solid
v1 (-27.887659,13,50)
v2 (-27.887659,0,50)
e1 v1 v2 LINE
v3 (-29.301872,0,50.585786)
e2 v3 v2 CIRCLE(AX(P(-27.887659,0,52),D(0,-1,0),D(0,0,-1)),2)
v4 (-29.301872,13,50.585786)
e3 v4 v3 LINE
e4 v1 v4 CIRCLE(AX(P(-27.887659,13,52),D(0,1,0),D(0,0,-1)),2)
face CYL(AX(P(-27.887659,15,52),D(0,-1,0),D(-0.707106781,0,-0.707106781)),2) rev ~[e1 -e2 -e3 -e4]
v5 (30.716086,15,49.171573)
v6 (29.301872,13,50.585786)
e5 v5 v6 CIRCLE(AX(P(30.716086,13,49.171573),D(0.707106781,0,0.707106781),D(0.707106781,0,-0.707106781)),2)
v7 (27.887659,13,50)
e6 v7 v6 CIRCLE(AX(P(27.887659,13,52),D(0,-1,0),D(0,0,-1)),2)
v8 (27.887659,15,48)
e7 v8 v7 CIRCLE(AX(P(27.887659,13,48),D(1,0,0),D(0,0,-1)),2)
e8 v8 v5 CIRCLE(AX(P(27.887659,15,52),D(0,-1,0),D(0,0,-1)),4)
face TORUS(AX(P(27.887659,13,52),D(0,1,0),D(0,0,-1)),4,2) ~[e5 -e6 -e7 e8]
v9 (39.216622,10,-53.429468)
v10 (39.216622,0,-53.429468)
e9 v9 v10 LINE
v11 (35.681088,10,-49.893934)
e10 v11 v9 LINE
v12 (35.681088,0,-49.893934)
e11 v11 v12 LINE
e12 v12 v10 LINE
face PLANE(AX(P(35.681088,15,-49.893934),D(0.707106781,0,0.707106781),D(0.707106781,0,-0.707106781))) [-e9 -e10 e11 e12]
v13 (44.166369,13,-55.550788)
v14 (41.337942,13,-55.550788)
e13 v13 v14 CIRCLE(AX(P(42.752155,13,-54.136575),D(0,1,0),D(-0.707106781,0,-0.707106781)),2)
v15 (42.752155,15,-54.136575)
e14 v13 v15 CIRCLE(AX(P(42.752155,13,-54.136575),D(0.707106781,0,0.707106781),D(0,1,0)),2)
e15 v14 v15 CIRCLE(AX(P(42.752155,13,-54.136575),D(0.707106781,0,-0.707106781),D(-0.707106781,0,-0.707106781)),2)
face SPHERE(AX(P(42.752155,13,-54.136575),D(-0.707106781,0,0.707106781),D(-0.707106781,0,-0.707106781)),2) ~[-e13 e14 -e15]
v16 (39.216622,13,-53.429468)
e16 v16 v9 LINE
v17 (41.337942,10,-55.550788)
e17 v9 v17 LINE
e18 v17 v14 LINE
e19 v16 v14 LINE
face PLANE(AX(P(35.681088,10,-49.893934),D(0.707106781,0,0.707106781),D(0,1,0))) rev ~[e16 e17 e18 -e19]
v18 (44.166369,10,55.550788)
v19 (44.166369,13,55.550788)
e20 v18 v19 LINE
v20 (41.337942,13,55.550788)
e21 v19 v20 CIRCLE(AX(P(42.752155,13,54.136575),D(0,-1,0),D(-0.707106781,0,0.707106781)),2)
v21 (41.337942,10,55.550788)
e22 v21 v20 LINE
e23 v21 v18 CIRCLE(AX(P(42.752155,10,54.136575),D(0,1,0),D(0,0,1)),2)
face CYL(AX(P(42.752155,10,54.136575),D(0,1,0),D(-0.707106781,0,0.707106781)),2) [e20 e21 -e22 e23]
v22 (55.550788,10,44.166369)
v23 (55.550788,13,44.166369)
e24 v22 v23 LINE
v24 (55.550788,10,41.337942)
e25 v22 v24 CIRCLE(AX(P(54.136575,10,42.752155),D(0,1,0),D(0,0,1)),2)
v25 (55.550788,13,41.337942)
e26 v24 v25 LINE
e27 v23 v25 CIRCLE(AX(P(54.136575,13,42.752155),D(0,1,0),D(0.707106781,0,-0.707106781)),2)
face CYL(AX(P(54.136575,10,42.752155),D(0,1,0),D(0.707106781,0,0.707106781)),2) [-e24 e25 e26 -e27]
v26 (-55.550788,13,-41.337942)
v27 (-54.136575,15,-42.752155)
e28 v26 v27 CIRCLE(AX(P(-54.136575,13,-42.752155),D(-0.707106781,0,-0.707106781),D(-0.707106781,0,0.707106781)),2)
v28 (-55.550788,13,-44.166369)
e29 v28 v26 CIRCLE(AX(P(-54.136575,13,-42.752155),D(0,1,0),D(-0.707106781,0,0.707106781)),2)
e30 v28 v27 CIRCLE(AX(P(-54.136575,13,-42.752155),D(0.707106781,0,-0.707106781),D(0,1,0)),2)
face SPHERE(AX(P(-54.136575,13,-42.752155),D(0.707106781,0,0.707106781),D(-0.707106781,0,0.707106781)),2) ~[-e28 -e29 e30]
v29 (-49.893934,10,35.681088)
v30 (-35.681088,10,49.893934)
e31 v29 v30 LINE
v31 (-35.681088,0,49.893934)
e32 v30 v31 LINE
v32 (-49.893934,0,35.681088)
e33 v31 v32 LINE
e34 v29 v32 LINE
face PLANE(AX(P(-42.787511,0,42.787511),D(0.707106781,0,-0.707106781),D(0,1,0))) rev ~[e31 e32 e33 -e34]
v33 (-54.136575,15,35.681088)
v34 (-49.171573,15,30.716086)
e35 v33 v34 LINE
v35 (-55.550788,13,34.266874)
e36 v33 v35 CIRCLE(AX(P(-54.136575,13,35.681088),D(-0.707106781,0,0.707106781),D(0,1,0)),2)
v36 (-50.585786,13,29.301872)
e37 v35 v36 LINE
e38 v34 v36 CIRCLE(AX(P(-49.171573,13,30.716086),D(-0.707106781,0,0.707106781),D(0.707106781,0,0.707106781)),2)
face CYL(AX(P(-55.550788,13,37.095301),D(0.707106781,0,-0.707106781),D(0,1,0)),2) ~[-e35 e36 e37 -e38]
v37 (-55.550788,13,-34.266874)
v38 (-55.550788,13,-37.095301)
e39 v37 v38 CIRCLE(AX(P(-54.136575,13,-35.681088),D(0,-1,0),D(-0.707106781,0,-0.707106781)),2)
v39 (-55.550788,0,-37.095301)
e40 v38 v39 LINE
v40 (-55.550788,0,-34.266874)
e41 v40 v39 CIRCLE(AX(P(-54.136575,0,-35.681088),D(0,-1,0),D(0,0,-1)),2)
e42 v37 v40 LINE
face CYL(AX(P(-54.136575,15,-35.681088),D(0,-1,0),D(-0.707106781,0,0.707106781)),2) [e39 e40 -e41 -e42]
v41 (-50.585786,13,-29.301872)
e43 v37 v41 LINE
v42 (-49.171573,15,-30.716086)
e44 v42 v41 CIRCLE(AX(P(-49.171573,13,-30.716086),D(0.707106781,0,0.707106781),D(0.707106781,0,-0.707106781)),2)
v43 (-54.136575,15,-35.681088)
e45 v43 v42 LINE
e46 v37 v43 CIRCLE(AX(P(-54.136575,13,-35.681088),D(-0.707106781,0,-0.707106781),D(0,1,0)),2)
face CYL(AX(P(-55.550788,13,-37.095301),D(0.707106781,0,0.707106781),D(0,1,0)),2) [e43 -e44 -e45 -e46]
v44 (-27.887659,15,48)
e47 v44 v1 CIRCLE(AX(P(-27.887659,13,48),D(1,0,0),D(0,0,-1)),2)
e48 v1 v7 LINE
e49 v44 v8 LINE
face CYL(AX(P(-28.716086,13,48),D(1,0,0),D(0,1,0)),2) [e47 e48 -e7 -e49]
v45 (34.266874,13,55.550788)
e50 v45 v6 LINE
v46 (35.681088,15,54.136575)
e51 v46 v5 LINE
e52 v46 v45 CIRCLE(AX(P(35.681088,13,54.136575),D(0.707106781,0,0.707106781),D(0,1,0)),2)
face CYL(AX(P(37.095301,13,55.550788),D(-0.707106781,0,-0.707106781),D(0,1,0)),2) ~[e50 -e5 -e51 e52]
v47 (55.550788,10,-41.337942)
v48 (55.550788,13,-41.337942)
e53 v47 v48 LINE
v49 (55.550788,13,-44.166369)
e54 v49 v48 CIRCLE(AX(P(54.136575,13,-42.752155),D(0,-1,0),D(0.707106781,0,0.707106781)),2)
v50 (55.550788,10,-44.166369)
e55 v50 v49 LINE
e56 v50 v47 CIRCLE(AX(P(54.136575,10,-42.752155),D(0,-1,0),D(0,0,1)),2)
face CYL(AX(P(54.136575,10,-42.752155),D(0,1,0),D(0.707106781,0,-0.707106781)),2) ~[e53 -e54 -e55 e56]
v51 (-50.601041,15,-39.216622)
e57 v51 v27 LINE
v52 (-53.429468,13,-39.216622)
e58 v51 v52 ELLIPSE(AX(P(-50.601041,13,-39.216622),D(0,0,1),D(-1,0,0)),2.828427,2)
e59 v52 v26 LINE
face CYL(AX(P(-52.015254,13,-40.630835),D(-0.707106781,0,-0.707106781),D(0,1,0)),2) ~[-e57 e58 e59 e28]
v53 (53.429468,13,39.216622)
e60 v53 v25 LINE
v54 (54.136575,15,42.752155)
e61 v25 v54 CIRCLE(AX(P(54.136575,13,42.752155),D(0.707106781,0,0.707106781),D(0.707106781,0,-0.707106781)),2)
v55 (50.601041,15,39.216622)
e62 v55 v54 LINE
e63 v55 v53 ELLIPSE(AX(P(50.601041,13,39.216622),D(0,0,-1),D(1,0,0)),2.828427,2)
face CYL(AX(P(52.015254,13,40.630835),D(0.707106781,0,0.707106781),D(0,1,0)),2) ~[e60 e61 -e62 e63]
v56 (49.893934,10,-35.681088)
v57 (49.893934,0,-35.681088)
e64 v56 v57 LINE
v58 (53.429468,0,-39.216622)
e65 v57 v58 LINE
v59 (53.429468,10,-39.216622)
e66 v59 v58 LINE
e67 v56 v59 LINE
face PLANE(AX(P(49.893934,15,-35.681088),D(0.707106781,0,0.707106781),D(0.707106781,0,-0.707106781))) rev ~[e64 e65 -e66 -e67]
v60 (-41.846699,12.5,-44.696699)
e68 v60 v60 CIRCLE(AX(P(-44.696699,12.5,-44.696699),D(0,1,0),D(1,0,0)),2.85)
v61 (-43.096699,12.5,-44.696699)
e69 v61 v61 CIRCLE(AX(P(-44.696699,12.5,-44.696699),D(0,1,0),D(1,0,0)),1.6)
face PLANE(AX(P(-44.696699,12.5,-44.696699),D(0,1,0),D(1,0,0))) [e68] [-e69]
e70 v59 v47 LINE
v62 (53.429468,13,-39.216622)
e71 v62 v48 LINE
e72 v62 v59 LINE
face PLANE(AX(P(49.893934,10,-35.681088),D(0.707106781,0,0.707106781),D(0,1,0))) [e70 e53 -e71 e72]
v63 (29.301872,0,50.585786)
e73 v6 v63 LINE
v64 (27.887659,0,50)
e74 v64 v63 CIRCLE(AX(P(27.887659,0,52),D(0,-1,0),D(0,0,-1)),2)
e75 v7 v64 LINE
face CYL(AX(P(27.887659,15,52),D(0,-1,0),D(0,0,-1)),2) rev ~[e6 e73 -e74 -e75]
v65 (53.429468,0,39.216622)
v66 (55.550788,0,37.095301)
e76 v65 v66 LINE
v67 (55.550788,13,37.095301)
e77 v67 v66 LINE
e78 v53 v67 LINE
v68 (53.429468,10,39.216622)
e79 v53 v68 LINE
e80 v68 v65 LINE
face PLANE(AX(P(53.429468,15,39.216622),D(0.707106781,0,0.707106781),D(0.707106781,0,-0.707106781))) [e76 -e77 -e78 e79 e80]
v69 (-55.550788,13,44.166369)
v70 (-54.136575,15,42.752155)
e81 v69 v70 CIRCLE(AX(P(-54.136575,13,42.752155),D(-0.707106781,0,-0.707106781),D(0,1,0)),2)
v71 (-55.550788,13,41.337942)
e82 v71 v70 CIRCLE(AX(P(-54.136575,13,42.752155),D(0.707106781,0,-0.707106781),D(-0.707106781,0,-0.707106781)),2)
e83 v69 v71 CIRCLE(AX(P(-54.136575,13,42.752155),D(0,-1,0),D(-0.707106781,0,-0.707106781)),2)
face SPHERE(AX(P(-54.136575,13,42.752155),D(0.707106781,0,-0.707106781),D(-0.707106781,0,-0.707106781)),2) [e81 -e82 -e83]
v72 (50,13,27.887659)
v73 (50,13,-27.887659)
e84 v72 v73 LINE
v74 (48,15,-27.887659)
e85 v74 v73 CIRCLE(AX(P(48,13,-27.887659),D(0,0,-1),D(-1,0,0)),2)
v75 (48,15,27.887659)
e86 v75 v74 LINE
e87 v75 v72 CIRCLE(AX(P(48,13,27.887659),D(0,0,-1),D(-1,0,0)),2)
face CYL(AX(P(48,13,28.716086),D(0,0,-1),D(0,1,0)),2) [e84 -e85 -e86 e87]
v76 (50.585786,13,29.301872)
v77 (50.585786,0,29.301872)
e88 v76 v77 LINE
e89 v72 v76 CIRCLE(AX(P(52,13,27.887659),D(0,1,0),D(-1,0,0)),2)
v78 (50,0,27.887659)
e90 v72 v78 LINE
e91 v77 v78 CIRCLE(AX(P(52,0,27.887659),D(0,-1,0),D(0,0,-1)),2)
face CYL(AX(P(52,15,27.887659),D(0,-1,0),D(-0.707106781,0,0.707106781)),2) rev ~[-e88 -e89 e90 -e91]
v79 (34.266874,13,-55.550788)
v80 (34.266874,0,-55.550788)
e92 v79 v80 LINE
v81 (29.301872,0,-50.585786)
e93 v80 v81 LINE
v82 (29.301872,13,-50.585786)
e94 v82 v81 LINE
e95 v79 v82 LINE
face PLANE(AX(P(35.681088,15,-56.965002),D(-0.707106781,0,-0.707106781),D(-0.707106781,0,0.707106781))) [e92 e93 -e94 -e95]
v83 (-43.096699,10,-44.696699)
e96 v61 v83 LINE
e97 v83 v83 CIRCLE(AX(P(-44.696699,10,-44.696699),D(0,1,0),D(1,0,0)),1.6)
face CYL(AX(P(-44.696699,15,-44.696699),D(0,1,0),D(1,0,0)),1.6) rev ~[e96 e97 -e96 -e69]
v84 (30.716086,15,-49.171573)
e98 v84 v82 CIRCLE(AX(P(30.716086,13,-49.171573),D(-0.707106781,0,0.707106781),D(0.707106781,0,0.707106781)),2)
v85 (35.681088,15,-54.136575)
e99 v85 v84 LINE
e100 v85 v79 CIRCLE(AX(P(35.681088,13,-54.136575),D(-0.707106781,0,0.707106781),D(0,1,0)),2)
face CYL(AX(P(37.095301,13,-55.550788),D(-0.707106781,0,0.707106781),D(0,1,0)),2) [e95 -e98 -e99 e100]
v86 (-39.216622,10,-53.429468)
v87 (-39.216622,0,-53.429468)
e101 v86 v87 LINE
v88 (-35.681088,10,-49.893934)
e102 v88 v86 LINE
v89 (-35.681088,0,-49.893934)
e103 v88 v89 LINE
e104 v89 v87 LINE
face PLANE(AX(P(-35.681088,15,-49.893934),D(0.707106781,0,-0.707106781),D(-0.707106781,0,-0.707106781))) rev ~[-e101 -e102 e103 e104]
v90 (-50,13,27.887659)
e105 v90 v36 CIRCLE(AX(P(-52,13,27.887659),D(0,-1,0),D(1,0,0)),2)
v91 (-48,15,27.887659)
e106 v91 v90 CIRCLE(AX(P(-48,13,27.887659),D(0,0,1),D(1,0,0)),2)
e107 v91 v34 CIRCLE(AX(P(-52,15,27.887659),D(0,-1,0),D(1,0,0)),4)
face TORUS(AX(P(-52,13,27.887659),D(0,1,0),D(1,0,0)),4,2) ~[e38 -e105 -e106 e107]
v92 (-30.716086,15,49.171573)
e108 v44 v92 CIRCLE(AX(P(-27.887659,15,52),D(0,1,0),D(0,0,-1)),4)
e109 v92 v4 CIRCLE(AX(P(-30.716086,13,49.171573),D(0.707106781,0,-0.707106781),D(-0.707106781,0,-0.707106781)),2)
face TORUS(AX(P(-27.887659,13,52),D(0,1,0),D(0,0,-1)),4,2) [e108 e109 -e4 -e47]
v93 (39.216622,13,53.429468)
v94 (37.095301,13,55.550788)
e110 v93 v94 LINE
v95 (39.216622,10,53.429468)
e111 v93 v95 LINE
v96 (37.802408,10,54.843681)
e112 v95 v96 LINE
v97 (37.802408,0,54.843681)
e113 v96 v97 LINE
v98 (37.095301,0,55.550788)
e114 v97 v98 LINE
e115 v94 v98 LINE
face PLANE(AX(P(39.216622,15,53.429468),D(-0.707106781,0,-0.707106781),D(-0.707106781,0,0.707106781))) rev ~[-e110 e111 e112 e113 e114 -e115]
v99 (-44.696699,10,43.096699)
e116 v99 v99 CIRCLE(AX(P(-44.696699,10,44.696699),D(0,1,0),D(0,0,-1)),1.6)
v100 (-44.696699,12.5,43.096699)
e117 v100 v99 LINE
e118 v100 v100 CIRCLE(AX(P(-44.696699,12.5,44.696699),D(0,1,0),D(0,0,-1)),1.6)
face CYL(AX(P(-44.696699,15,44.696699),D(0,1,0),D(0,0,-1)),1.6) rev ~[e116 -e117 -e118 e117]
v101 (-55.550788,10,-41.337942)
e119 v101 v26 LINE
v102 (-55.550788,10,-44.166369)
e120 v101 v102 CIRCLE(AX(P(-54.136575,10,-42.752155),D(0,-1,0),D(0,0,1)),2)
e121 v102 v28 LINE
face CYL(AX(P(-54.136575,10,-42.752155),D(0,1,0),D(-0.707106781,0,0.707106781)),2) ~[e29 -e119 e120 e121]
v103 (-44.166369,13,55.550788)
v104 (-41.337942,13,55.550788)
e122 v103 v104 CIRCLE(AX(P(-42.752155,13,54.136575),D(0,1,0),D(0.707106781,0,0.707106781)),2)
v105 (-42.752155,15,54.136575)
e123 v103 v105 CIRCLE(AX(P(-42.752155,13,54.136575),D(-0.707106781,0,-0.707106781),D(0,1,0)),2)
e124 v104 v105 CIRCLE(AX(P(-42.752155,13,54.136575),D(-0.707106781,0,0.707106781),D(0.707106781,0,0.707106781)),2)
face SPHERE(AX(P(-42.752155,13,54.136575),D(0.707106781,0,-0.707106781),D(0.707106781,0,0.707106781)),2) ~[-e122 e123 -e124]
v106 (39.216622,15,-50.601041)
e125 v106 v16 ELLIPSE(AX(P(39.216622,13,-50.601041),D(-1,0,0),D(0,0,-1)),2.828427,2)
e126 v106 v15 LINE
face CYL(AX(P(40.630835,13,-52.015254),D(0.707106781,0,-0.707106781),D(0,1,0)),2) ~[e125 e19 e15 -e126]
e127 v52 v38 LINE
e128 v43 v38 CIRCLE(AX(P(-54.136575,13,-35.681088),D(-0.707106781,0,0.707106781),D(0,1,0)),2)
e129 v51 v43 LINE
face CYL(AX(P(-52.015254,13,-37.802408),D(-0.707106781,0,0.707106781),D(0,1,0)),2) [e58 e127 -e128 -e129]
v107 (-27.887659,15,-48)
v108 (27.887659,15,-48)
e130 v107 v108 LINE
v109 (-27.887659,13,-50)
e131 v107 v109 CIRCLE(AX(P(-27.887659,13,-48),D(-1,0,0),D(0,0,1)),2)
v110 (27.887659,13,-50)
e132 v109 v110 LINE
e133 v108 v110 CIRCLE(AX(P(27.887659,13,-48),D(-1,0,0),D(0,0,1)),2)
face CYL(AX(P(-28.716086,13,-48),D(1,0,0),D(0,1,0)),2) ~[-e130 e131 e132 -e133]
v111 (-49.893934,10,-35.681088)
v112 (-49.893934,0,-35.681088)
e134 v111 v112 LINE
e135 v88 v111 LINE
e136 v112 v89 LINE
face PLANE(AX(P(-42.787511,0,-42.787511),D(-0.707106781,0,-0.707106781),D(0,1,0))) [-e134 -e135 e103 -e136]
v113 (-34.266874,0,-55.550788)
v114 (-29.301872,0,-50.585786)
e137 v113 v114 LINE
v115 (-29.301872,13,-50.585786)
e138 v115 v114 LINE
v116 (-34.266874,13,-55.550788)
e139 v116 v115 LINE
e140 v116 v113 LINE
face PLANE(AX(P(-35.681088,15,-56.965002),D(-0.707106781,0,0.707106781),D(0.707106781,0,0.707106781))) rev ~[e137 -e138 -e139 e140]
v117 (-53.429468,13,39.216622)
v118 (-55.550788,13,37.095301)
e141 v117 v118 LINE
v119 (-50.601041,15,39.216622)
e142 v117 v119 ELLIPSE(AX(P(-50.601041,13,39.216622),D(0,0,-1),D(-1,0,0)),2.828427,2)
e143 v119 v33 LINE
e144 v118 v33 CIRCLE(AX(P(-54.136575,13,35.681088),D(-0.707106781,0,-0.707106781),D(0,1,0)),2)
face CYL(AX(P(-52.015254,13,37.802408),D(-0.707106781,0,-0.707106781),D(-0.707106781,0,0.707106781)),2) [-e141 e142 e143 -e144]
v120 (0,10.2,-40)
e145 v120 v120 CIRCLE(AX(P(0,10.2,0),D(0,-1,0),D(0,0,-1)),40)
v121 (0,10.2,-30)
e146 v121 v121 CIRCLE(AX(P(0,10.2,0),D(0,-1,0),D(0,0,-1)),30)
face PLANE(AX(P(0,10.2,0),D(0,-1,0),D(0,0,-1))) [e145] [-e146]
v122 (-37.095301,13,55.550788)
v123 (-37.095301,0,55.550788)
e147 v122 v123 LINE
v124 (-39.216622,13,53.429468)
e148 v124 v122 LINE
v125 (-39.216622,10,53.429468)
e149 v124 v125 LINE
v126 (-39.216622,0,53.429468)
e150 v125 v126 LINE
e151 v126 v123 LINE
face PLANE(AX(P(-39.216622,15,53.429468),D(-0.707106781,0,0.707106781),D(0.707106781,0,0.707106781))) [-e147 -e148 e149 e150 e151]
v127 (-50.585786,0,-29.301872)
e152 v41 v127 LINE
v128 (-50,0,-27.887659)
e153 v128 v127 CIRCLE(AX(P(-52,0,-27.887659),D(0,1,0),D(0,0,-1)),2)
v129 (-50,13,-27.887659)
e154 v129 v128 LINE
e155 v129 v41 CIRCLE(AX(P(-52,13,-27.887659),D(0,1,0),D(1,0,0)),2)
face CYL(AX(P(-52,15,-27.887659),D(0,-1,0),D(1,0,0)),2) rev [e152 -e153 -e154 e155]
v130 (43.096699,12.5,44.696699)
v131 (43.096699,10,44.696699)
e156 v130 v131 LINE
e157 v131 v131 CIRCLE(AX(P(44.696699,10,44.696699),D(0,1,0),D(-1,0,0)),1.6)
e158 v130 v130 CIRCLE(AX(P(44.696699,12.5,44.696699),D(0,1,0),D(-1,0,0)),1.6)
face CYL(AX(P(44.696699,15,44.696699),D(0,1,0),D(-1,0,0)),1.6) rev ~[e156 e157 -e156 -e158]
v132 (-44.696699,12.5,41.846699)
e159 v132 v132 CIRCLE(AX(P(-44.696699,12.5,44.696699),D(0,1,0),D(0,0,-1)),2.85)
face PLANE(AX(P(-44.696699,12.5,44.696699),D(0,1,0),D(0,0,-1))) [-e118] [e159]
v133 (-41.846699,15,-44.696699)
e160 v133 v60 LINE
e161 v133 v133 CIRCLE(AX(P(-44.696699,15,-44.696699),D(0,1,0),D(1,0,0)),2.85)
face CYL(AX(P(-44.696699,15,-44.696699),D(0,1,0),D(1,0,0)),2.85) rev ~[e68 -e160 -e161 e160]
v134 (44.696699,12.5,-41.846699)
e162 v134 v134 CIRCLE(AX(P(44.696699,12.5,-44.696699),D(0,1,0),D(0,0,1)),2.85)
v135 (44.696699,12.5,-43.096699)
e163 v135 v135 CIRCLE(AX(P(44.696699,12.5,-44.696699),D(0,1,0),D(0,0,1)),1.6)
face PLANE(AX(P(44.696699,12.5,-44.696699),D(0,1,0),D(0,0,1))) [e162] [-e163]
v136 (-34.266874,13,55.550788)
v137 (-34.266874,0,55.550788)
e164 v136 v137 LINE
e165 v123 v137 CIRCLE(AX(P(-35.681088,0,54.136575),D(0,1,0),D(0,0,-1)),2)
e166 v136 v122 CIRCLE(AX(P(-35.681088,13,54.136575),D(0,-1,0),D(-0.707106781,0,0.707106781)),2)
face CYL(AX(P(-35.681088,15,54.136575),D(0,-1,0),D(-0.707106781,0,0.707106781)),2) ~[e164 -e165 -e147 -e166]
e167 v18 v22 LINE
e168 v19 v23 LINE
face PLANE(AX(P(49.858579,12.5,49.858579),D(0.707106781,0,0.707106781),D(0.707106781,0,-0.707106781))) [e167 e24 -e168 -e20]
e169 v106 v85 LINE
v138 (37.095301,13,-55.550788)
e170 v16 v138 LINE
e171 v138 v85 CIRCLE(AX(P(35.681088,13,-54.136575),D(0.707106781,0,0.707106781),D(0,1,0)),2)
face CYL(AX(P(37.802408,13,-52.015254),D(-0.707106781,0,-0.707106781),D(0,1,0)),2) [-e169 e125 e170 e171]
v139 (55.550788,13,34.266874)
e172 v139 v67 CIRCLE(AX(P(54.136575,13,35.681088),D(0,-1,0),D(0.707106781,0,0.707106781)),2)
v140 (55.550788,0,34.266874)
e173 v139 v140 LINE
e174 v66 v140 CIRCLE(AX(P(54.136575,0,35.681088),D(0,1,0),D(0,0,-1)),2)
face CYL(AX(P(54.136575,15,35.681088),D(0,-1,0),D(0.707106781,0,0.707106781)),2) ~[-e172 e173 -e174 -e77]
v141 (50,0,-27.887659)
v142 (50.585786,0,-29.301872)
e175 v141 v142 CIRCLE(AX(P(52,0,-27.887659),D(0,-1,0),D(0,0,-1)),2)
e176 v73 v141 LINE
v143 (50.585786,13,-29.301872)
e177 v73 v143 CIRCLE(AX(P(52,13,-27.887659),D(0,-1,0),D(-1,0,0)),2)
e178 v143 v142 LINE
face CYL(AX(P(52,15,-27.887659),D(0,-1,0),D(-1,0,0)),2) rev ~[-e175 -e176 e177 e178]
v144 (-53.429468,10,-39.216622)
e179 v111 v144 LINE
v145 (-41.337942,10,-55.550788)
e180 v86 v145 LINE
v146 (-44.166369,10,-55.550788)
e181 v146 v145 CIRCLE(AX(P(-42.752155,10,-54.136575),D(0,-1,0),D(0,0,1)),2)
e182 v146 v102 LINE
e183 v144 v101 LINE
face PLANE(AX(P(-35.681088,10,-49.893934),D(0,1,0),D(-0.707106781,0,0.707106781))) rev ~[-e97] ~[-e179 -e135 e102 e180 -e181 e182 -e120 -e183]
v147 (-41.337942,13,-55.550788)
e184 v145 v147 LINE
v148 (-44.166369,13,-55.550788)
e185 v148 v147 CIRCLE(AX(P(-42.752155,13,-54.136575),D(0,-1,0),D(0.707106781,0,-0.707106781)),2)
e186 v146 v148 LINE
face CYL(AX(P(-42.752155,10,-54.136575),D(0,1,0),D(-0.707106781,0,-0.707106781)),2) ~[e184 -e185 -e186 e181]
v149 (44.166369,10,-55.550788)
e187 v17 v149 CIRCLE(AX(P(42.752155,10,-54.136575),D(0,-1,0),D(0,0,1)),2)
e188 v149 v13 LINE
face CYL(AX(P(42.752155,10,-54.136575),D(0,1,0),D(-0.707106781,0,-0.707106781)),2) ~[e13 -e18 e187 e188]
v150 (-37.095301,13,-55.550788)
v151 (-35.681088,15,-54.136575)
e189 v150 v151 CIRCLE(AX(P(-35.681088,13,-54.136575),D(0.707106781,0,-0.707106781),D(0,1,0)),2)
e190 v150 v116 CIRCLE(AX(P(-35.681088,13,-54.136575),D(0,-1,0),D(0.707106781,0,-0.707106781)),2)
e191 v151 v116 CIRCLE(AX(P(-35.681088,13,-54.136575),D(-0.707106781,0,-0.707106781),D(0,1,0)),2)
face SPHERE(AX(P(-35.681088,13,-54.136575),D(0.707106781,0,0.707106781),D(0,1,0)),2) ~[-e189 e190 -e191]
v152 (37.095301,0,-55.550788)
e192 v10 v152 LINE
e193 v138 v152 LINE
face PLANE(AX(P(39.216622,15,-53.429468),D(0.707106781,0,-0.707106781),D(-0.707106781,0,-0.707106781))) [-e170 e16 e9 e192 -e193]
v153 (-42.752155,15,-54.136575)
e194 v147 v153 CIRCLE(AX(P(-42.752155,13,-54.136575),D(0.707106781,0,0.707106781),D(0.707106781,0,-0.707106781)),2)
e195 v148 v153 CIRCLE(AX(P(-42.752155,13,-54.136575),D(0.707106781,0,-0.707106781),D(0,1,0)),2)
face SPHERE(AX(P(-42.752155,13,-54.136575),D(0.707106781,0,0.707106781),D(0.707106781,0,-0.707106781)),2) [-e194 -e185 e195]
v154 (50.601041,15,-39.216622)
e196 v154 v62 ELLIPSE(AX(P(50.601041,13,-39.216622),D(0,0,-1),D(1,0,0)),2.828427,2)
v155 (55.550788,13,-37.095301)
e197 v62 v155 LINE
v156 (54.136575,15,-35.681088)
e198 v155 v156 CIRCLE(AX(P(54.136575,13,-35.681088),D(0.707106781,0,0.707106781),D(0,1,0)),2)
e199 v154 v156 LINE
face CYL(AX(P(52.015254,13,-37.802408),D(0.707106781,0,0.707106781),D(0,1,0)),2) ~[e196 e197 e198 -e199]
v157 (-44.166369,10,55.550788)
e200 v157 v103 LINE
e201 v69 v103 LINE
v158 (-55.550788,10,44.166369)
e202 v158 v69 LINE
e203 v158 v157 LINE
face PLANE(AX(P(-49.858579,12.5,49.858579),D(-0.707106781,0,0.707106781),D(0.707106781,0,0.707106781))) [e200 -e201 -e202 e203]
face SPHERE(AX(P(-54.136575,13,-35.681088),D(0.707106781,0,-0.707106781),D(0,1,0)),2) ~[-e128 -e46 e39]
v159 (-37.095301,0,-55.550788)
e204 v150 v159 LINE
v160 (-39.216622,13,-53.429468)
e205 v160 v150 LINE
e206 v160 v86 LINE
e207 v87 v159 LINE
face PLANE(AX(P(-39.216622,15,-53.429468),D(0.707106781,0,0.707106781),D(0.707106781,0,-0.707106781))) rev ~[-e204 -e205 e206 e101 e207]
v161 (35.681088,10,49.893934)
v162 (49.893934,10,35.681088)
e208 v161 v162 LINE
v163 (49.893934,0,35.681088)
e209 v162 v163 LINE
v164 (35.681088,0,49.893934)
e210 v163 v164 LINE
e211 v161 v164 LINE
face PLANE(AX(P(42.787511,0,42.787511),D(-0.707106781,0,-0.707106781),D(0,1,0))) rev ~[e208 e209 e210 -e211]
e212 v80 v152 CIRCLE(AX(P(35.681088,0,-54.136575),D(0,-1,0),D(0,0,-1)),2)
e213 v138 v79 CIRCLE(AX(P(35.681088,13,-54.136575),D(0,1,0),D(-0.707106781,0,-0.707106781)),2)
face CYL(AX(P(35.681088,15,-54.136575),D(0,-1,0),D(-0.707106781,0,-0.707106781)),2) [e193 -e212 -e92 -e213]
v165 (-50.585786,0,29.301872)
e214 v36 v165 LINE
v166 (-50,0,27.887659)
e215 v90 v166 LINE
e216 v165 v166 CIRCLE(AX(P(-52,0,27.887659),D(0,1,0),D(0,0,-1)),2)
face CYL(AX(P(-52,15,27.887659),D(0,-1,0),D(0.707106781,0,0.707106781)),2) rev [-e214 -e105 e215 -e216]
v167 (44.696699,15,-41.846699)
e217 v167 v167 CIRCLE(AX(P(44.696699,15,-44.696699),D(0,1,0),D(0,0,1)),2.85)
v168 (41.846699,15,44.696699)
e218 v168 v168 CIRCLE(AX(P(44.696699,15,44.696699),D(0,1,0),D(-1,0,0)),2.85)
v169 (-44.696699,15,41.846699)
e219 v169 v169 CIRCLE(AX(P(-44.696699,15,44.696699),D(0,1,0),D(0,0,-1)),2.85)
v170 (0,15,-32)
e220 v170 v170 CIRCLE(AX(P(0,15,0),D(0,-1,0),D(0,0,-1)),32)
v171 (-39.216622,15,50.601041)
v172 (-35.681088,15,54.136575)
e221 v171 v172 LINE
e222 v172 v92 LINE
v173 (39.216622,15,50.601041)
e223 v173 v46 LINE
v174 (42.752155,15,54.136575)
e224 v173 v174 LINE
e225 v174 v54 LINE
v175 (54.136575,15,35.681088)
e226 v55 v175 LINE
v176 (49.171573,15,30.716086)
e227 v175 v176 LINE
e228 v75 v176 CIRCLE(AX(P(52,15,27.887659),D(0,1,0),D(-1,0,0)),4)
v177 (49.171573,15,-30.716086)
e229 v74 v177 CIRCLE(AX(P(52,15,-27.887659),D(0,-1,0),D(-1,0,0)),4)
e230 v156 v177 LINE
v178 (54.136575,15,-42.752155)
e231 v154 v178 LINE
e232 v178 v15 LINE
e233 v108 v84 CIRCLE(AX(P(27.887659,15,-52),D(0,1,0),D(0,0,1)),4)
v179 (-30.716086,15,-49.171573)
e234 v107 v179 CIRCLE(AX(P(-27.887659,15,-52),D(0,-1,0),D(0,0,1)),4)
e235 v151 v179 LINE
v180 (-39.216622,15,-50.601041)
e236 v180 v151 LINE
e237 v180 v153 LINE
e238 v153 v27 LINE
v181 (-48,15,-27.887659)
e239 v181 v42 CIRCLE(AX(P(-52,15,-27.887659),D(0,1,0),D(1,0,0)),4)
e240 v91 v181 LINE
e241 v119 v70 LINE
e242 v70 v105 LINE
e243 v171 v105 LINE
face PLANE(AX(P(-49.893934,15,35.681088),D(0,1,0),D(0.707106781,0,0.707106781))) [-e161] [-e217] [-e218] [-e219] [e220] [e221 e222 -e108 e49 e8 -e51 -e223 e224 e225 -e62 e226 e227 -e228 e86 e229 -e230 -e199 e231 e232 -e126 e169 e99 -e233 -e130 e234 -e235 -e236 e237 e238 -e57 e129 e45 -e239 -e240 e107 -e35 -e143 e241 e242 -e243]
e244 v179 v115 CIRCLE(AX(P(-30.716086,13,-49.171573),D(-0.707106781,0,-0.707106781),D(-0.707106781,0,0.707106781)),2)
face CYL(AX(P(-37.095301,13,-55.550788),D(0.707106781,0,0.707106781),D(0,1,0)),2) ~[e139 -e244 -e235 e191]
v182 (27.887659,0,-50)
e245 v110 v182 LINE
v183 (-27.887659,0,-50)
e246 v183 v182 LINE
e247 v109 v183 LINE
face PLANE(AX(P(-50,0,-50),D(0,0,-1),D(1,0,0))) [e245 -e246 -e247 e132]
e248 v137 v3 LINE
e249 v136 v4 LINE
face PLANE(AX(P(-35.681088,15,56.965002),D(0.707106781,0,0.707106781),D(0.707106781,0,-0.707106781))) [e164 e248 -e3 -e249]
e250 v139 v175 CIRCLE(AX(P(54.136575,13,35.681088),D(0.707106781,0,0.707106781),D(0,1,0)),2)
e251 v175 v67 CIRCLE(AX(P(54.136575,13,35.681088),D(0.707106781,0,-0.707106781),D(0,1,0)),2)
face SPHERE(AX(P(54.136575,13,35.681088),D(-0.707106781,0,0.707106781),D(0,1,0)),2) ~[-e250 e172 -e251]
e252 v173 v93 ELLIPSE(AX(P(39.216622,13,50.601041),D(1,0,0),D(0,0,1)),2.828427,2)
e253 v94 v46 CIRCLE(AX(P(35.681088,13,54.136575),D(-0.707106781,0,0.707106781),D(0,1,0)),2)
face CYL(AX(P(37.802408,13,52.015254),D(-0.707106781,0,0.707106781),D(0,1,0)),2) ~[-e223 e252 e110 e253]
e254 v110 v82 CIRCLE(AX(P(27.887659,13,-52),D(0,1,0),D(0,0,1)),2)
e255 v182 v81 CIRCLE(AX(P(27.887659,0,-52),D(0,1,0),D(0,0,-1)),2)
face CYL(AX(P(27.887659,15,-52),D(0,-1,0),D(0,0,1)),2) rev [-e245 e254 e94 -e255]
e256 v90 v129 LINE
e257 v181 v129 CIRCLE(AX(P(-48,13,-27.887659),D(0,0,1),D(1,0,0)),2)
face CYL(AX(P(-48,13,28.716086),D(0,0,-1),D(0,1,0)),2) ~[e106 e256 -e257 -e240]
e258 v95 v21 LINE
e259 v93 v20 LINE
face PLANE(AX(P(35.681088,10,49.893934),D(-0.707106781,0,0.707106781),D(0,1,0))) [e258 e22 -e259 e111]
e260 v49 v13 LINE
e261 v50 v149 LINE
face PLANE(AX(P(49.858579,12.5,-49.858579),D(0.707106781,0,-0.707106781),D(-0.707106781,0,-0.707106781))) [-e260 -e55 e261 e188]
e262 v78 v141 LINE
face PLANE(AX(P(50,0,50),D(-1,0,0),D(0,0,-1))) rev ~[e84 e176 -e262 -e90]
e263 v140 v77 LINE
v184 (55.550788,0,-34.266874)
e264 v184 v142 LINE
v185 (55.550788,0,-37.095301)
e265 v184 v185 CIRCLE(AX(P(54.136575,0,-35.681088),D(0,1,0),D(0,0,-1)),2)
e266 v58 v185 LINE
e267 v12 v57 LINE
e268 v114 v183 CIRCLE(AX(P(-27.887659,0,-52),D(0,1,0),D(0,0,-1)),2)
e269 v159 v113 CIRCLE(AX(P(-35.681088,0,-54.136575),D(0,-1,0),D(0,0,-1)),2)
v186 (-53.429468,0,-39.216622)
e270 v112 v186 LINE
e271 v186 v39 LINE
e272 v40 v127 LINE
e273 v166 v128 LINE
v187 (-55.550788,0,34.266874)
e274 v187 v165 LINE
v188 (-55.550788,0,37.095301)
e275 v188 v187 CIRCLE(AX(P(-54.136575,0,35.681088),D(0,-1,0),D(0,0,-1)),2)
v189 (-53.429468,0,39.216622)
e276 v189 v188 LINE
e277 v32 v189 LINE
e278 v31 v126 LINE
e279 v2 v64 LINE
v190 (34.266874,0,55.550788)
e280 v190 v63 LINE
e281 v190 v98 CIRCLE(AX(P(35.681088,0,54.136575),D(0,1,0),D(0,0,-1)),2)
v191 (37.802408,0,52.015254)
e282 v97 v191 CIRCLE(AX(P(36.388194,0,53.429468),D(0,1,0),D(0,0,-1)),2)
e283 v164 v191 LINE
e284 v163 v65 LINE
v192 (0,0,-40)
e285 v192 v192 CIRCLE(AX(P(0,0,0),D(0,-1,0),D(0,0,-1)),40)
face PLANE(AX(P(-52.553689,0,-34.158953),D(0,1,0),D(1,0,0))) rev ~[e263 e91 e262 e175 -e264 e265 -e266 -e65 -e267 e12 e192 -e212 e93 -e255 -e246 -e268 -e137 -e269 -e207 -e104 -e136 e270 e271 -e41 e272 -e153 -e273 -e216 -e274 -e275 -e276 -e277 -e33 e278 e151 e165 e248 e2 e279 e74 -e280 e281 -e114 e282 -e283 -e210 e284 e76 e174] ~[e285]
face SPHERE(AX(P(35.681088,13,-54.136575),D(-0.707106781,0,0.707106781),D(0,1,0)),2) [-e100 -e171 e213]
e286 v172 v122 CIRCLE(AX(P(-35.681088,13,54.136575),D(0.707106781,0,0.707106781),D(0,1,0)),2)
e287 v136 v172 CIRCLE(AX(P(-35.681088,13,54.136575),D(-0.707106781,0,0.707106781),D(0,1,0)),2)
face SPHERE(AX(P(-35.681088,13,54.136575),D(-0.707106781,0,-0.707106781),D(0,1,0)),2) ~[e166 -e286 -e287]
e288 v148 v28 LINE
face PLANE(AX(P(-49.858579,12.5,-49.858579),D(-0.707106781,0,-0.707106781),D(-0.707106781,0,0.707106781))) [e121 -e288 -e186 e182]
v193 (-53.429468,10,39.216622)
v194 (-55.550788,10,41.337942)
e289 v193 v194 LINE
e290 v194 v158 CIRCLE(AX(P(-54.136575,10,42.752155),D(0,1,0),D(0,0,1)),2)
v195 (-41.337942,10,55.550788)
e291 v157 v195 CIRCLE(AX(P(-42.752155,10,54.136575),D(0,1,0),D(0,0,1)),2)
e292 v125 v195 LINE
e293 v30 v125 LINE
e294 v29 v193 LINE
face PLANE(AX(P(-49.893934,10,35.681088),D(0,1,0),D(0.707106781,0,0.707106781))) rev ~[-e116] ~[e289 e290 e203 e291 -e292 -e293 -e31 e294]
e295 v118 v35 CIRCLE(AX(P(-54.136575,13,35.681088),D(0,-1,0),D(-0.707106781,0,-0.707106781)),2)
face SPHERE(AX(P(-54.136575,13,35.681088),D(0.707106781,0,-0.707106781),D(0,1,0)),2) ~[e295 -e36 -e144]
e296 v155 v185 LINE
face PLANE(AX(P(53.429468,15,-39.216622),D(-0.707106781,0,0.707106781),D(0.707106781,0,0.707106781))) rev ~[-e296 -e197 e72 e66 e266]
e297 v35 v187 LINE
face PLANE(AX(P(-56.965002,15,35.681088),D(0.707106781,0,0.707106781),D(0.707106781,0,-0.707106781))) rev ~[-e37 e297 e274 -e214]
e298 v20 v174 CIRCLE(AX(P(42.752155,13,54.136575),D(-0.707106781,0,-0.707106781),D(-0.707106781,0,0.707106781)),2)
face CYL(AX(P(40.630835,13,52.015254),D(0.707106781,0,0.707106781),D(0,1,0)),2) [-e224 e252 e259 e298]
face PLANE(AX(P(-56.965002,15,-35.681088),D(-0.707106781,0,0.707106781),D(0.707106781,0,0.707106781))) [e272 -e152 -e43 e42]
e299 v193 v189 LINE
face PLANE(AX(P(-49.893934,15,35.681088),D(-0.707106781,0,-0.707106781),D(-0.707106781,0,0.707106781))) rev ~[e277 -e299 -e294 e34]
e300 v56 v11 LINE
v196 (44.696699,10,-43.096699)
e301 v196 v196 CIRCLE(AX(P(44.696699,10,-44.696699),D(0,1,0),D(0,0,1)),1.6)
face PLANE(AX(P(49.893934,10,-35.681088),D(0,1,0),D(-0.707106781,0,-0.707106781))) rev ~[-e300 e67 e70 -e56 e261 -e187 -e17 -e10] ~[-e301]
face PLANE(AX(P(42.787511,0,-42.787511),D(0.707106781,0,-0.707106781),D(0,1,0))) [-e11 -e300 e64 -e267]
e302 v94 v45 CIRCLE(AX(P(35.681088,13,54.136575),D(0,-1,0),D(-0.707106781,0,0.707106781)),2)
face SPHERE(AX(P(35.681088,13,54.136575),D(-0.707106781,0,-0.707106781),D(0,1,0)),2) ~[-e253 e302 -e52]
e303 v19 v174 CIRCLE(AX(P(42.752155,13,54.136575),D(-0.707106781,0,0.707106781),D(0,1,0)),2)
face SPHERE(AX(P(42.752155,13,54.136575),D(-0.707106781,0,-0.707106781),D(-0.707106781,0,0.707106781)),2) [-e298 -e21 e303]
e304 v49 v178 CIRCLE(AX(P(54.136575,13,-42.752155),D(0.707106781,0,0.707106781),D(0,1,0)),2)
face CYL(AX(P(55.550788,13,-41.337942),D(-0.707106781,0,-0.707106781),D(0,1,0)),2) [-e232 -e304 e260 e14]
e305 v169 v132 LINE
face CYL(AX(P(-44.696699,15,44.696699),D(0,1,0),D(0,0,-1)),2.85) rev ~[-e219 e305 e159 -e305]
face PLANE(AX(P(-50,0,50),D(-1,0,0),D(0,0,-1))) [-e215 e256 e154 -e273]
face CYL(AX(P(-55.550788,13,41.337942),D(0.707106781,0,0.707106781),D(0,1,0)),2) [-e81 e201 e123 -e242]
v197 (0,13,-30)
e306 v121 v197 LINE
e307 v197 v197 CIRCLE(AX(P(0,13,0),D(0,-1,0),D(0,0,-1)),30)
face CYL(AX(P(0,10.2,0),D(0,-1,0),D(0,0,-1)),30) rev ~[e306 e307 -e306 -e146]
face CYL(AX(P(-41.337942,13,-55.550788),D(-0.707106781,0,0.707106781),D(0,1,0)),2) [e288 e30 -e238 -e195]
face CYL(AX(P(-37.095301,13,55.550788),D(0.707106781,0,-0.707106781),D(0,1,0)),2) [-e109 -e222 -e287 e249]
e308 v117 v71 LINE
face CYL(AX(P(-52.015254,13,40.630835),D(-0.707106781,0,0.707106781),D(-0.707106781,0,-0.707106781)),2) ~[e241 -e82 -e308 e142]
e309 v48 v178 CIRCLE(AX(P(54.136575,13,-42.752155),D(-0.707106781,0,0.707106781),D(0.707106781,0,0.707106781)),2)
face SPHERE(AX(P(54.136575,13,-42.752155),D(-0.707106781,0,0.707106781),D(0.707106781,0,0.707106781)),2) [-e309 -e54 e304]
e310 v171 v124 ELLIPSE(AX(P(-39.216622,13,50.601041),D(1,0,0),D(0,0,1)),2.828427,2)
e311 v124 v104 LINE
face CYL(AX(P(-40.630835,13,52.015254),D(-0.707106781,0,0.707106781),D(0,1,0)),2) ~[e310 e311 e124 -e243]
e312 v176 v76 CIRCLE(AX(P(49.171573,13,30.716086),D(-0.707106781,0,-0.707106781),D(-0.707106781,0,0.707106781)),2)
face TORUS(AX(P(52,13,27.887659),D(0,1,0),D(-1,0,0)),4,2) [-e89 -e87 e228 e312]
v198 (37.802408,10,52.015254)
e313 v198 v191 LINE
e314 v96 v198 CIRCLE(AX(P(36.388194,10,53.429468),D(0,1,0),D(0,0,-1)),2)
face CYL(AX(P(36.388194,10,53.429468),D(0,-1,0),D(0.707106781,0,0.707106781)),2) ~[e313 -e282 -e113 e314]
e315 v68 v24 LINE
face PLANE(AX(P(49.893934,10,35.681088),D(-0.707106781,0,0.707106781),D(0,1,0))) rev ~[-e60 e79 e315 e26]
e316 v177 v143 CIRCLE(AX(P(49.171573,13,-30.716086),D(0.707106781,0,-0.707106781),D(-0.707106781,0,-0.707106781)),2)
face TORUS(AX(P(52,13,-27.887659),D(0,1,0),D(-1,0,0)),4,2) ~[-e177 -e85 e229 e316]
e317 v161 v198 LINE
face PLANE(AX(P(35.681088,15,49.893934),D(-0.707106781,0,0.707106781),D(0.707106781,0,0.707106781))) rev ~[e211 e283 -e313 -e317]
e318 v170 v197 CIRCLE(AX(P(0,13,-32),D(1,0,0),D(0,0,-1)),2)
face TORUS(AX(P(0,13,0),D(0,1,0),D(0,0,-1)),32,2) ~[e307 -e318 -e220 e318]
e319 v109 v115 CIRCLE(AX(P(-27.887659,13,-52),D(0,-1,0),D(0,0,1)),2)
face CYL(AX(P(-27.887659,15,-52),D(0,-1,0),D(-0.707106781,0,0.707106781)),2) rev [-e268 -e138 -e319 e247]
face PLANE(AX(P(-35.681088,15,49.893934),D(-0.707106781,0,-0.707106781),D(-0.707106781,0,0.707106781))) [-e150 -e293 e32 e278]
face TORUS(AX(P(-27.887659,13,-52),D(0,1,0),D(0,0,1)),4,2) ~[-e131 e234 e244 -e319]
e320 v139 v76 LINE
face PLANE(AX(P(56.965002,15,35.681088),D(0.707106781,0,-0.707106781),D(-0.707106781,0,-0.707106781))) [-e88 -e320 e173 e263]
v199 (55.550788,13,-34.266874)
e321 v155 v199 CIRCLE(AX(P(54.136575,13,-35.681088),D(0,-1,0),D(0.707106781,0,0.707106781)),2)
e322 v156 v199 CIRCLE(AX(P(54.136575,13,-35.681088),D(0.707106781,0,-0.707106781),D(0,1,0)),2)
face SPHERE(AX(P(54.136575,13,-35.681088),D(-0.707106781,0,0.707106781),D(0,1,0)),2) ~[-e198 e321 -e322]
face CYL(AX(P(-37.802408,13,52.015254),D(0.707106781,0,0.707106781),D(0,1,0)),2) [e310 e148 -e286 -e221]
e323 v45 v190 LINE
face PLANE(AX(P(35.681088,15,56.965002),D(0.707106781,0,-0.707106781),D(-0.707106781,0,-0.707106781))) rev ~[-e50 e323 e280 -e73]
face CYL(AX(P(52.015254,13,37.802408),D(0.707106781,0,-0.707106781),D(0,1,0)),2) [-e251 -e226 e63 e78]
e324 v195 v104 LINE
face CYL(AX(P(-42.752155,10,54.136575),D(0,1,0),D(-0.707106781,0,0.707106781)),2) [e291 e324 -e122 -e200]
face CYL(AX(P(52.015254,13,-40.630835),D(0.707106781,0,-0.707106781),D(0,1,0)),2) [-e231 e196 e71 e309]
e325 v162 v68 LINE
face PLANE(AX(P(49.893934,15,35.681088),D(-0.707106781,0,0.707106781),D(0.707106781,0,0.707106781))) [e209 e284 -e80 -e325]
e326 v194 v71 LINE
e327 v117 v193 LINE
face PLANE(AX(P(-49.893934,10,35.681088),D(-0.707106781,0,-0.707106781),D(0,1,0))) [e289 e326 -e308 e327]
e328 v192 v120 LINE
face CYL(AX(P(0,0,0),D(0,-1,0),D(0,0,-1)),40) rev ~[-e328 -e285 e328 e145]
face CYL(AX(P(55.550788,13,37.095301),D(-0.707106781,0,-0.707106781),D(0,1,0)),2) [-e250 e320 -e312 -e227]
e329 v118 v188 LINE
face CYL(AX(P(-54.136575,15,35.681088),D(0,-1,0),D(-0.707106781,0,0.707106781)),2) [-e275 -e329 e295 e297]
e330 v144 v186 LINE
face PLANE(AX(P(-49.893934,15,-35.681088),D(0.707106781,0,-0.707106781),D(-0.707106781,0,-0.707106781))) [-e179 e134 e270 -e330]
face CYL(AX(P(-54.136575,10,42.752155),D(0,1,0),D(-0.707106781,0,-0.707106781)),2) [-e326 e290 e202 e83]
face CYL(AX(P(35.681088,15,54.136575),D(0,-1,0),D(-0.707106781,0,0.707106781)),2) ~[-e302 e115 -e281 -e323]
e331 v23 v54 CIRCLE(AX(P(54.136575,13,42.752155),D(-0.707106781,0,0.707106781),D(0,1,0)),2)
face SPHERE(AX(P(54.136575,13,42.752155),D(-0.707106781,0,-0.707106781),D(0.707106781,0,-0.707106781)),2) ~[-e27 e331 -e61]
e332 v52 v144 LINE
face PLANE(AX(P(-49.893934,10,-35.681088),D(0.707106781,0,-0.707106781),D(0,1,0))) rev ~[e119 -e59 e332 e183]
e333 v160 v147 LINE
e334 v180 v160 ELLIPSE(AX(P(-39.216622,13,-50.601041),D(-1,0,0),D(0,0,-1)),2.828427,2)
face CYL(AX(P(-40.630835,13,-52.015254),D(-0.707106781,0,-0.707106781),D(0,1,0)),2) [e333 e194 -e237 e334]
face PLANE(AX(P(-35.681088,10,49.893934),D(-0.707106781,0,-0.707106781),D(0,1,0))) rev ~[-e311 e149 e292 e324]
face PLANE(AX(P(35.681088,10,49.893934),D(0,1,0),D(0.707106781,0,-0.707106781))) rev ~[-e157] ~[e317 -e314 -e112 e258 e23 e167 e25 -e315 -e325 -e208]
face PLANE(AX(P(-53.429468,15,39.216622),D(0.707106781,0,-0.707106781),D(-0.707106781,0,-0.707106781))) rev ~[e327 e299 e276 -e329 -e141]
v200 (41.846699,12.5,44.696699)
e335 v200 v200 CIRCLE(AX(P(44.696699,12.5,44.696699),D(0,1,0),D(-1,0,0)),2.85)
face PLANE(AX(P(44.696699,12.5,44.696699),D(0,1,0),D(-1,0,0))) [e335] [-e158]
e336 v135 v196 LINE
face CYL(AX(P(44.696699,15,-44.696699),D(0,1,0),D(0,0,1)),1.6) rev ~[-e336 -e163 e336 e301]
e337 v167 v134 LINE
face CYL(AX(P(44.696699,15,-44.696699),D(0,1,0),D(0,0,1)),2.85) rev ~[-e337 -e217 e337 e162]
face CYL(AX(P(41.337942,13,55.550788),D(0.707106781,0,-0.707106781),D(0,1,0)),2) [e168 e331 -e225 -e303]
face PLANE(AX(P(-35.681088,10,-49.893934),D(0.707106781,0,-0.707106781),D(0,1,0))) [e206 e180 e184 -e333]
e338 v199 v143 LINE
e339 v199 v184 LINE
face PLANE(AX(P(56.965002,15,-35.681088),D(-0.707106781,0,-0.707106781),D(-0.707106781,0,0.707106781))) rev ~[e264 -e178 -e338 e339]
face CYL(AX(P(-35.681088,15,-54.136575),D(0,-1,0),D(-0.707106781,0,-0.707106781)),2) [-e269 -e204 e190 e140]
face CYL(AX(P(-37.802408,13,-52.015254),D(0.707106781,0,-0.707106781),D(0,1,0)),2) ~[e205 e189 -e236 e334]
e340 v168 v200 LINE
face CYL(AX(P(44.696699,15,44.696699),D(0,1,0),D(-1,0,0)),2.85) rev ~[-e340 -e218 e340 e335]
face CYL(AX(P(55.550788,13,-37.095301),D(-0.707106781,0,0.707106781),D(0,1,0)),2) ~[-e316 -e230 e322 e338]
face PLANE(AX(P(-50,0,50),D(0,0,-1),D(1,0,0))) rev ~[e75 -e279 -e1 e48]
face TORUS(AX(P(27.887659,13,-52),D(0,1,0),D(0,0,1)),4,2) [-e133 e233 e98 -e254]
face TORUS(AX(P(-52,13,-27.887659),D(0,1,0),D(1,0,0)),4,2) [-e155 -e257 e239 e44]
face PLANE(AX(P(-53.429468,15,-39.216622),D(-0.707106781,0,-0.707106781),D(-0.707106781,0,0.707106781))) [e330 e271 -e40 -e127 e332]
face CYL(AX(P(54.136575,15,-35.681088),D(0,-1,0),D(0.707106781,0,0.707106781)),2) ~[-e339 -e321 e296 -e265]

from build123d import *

# Parameters (mm, degrees)
SKETCH1_W                      = 100
SKETCH1_H                      = 100
BOSS_EXTRUDE1_DEPTH            = 15
SKETCH2_R                      = 40
CUT_EXTRUDE1_DEPTH             = 10.2
CUT_EXTRUDE2_REACH             = 73.443
SKETCH3_R                      = 30
CUT_EXTRUDE3_REACH             = 74.284
SKETCH4_W                      = 10.2
SKETCH4_H                      = 15
CUT_EXTRUDE3_DIRECTION_2_REACH = 74.284
CIRPATTERN1_COUNT              = 4
BOSS_EXTRUDE2_DEPTH            = 15
SKETCH6_W                      = 20.1
SKETCH6_H                      = 5
BOSS_EXTRUDE3_DEPTH            = 10
CIRPATTERN2_COUNT              = 4
CUT_EXTRUDE4_REACH             = 83.945
SKETCH7_R                      = 1.6
SKETCH8_R                      = 2.85
CUT_EXTRUDE5_DEPTH             = 2.5
CIRPATTERN3_COUNT              = 4
FILLET1_R                      = 2


with BuildPart() as part:
    # Sketch1 → Boss-Extrude1 (new body)
    with BuildSketch(Plane(origin=(0, 0, 0), x_dir=(1, 0, 0), z_dir=(0, 1, 0))):
        Rectangle(SKETCH1_W, SKETCH1_H)
    extrude(amount=BOSS_EXTRUDE1_DEPTH)

    # Sketch2 → Cut-Extrude1 (cut)
    with BuildSketch(Plane.XZ):
        with Locations(Location((0, 0, 0), (0, 0, 270))):
            Circle(SKETCH2_R)
    extrude(amount=-CUT_EXTRUDE1_DEPTH, mode=Mode.SUBTRACT)

    # Sketch3 → Cut-Extrude2 (cut, up to next)
    with BuildSketch(Plane.XZ.offset(-10.2), mode=Mode.PRIVATE) as cut_extrude2_sk1:
        with Locations(Location((0, 0, 0), (0, 0, 270))):
            Circle(SKETCH3_R)
    cut_extrude2_tool1 = extrude(cut_extrude2_sk1.sketch, amount=-CUT_EXTRUDE2_REACH, mode=Mode.PRIVATE) & part.part
    add(cut_extrude2_tool1.solids().sort_by_distance((0, 10.2, 0))[0], mode=Mode.SUBTRACT)

    # Sketch4 → Cut-Extrude3 (cut, up to next)
    with BuildSketch(Plane(origin=(0, 0, 0), x_dir=(-0.7071067811865475, 0, -0.7071067811865477), z_dir=(0.7071067811865477, 0, -0.7071067811865475)), mode=Mode.PRIVATE) as cut_extrude3_sk1:
        with Locations((-65.610678119, 7.5)):
            Rectangle(SKETCH4_W, SKETCH4_H)
    cut_extrude3_tool1 = extrude(cut_extrude3_sk1.sketch, amount=-CUT_EXTRUDE3_REACH, mode=Mode.PRIVATE) & part.part
    cut_extrude3 = cut_extrude3_tool1.solids().sort_by_distance((46.393755, 7.5, 46.393755))[0]
    add(cut_extrude3, mode=Mode.SUBTRACT)

    # Sketch4 → Cut-Extrude3 direction 2 (cut, up to next)
    with BuildSketch(Plane(origin=(0, 0, 0), x_dir=(-0.7071067811865475, 0, -0.7071067811865477), z_dir=(0.7071067811865477, 0, -0.7071067811865475)), mode=Mode.PRIVATE) as cut_extrude3_direction_2_sk1:
        with Locations((-65.610678119, 7.5)):
            Rectangle(SKETCH4_W, SKETCH4_H)
    cut_extrude3_direction_2_tool1 = extrude(cut_extrude3_direction_2_sk1.sketch, amount=CUT_EXTRUDE3_DIRECTION_2_REACH, mode=Mode.PRIVATE) & part.part
    cut_extrude3_direction_2 = cut_extrude3_direction_2_tool1.solids().sort_by_distance((46.393755, 7.5, 46.393755))[0]
    add(cut_extrude3_direction_2, mode=Mode.SUBTRACT)

    # CirPattern1: Cut-Extrude3, Cut-Extrude3 direction 2 ×4 about axis
    cirpattern1_axis = Axis((0, 0, 0), (0, 1, 0))
    add([cut_extrude3.rotate(cirpattern1_axis, i * 360 / CIRPATTERN1_COUNT) for i in range(1, CIRPATTERN1_COUNT)], mode=Mode.SUBTRACT)
    add([cut_extrude3_direction_2.rotate(cirpattern1_axis, i * 360 / CIRPATTERN1_COUNT) for i in range(1, CIRPATTERN1_COUNT)], mode=Mode.SUBTRACT)

    # Sketch5 → Boss-Extrude2 (add)
    with BuildSketch(Plane(origin=(0, 15, 0), x_dir=(1, 0, 0), z_dir=(0, 1, 0))):
        Polygon((-49.893933983, 35.681087681), (-53.429467889, 39.216621587), (-56.965001795, 35.681087681), (-50, 28.716085886), (-50, 35.575021664), align=None)
        Polygon((-39.216621587, 53.429467889), (-35.681087681, 56.965001795), (-28.716085886, 50), (-35.681087681, 49.893933983), align=None)
        Polygon((35.681087681, 49.893933983), (39.216621587, 53.429467889), (35.681087681, 56.965001795), (28.716085886, 50), align=None)
        Polygon((49.893933983, 35.681087681), (53.429467889, 39.216621587), (56.965001795, 35.681087681), (50, 28.716085886), align=None)
        Polygon((49.893933983, -35.681087681), (53.429467889, -39.216621587), (56.965001795, -35.681087681), (50, -28.716085886), align=None)
        Polygon((35.681087681, -49.893933983), (39.216621587, -53.429467889), (35.681087681, -56.965001795), (28.716085886, -50), align=None)
        Polygon((-35.681087681, -49.893933983), (-39.216621587, -53.429467889), (-35.681087681, -56.965001795), (-28.716085886, -50), align=None)
        Polygon((-49.893933983, -35.681087681), (-53.429467889, -39.216621587), (-56.965001795, -35.681087681), (-50, -28.716085886), align=None)
    extrude(amount=-BOSS_EXTRUDE2_DEPTH)

    # Sketch6 → Boss-Extrude3 (add)
    with BuildSketch(Plane(origin=(42.787510832, 0, 42.787510832), x_dir=(0.7071067811865476, 0, -0.7071067811865475), z_dir=(0.7071067811865475, 0, 0.7071067811865476))):
        with Locations((0, 12.5)):
            Rectangle(SKETCH6_W, SKETCH6_H)
    boss_extrude3 = extrude(amount=BOSS_EXTRUDE3_DEPTH)

    # CirPattern2: Boss-Extrude3 ×4 about axis
    cirpattern2_axis = Axis((0, 0, 0), (0, 1, 0))
    for i in range(1, CIRPATTERN2_COUNT):
        add(boss_extrude3.rotate(cirpattern2_axis, i * 360 / CIRPATTERN2_COUNT))

    # Sketch7 → Cut-Extrude4 (cut, up to next)
    with BuildSketch(Plane(origin=(0, 15, 0), x_dir=(1, 0, 0), z_dir=(0, 1, 0)), mode=Mode.PRIVATE) as cut_extrude4_sk1:
        with Locations(Location((44.696699141, 44.696699141, 0), (0, 0, 270))):
            Circle(SKETCH7_R)
    cut_extrude4_tool1 = extrude(cut_extrude4_sk1.sketch, amount=-CUT_EXTRUDE4_REACH, mode=Mode.PRIVATE) & part.part
    cut_extrude4 = cut_extrude4_tool1.solids().sort_by_distance((44.696699, 15, -44.696699))[0]
    add(cut_extrude4, mode=Mode.SUBTRACT)

    # Sketch8 → Cut-Extrude5 (cut)
    with BuildSketch(Plane(origin=(0, 15, 0), x_dir=(1, 0, 0), z_dir=(0, 1, 0))):
        with Locations(Location((44.696699141, 44.696699141, 0), (0, 0, 270))):
            Circle(SKETCH8_R)
    cut_extrude5 = extrude(amount=-CUT_EXTRUDE5_DEPTH, mode=Mode.SUBTRACT)

    # CirPattern3: Cut-Extrude4, Cut-Extrude5 ×4 about axis
    cirpattern3_axis = Axis((0, 0, 0), (0, 1, 0))
    add([cut_extrude4.rotate(cirpattern3_axis, i * 360 / CIRPATTERN3_COUNT) for i in range(1, CIRPATTERN3_COUNT)], mode=Mode.SUBTRACT)
    add([cut_extrude5.rotate(cirpattern3_axis, i * 360 / CIRPATTERN3_COUNT) for i in range(1, CIRPATTERN3_COUNT)], mode=Mode.SUBTRACT)

    # Fillet1
    fillet1_edges = [part.edges().sort_by_distance(p)[0] for p in [
        (32.198586784, 15, -53.482500897),
        (37.448854634, 15, -55.197234842),
        (35.681087681, 7.5, -56.965001795),
        (28.716085886, 7.5, -50),
        (53.482500897, 15, -32.198586784),
        (55.197234842, 15, -37.448854634),
        (50, 7.5, -28.716085886),
        (56.965001795, 7.5, -35.681087681),
        (55.197234842, 15, 37.448854634),
        (53.482500897, 15, 32.198586784),
        (56.965001795, 7.5, 35.681087681),
        (50, 7.5, 28.716085886),
        (32.198586784, 15, 53.482500897),
        (37.448854634, 15, 55.197234842),
        (28.716085886, 7.5, 50),
        (35.681087681, 7.5, 56.965001795),
        (39.216621587, 5, 53.429467889),
        (-37.448854634, 15, 55.197234842),
        (-32.198586784, 15, 53.482500897),
        (-35.681087681, 7.5, 56.965001795),
        (-28.716085886, 7.5, 50),
        (-53.482500897, 15, 32.198586784),
        (-55.197234842, 15, 37.448854634),
        (-50, 7.5, 28.716085886),
        (-56.965001795, 7.5, 35.681087681),
        (-55.197234842, 15, -37.448854634),
        (-53.482500897, 15, -32.198586784),
        (-50, 7.5, -28.716085886),
        (-56.965001795, 7.5, -35.681087681),
        (40.98438854, 15, 55.197234842),
        (55.197234842, 15, 40.98438854),
        (42.752155493, 12.5, 56.965001795),
        (56.965001795, 12.5, 42.752155493),
        (49.858578644, 15, 49.858578644),
        (55.197234842, 15, -40.98438854),
        (40.98438854, 15, -55.197234842),
        (56.965001795, 12.5, -42.752155493),
        (42.752155493, 12.5, -56.965001795),
        (49.858578644, 15, -49.858578644),
        (-40.98438854, 15, -55.197234842),
        (-55.197234842, 15, -40.98438854),
        (-42.752155493, 12.5, -56.965001795),
        (-56.965001795, 12.5, -42.752155493),
        (-49.858578644, 15, -49.858578644),
        (0, 15, 30),
        (-55.197234842, 15, 40.98438854),
        (-40.98438854, 15, 55.197234842),
        (-56.965001795, 12.5, 42.752155493),
        (-42.752155493, 12.5, 56.965001795),
        (-49.858578644, 15, 49.858578644),
        (0, 15, -50),
        (-50, 15, 0),
        (0, 15, 50),
        (50, 15, 0),
        (-32.198586784, 15, -53.482500897),
        (-37.448854634, 15, -55.197234842),
        (-28.716085886, 7.5, -50),
        (-35.681087681, 7.5, -56.965001795),
    ]]
    fillet(fillet1_edges, radius=FILLET1_R)


solid = part.part
